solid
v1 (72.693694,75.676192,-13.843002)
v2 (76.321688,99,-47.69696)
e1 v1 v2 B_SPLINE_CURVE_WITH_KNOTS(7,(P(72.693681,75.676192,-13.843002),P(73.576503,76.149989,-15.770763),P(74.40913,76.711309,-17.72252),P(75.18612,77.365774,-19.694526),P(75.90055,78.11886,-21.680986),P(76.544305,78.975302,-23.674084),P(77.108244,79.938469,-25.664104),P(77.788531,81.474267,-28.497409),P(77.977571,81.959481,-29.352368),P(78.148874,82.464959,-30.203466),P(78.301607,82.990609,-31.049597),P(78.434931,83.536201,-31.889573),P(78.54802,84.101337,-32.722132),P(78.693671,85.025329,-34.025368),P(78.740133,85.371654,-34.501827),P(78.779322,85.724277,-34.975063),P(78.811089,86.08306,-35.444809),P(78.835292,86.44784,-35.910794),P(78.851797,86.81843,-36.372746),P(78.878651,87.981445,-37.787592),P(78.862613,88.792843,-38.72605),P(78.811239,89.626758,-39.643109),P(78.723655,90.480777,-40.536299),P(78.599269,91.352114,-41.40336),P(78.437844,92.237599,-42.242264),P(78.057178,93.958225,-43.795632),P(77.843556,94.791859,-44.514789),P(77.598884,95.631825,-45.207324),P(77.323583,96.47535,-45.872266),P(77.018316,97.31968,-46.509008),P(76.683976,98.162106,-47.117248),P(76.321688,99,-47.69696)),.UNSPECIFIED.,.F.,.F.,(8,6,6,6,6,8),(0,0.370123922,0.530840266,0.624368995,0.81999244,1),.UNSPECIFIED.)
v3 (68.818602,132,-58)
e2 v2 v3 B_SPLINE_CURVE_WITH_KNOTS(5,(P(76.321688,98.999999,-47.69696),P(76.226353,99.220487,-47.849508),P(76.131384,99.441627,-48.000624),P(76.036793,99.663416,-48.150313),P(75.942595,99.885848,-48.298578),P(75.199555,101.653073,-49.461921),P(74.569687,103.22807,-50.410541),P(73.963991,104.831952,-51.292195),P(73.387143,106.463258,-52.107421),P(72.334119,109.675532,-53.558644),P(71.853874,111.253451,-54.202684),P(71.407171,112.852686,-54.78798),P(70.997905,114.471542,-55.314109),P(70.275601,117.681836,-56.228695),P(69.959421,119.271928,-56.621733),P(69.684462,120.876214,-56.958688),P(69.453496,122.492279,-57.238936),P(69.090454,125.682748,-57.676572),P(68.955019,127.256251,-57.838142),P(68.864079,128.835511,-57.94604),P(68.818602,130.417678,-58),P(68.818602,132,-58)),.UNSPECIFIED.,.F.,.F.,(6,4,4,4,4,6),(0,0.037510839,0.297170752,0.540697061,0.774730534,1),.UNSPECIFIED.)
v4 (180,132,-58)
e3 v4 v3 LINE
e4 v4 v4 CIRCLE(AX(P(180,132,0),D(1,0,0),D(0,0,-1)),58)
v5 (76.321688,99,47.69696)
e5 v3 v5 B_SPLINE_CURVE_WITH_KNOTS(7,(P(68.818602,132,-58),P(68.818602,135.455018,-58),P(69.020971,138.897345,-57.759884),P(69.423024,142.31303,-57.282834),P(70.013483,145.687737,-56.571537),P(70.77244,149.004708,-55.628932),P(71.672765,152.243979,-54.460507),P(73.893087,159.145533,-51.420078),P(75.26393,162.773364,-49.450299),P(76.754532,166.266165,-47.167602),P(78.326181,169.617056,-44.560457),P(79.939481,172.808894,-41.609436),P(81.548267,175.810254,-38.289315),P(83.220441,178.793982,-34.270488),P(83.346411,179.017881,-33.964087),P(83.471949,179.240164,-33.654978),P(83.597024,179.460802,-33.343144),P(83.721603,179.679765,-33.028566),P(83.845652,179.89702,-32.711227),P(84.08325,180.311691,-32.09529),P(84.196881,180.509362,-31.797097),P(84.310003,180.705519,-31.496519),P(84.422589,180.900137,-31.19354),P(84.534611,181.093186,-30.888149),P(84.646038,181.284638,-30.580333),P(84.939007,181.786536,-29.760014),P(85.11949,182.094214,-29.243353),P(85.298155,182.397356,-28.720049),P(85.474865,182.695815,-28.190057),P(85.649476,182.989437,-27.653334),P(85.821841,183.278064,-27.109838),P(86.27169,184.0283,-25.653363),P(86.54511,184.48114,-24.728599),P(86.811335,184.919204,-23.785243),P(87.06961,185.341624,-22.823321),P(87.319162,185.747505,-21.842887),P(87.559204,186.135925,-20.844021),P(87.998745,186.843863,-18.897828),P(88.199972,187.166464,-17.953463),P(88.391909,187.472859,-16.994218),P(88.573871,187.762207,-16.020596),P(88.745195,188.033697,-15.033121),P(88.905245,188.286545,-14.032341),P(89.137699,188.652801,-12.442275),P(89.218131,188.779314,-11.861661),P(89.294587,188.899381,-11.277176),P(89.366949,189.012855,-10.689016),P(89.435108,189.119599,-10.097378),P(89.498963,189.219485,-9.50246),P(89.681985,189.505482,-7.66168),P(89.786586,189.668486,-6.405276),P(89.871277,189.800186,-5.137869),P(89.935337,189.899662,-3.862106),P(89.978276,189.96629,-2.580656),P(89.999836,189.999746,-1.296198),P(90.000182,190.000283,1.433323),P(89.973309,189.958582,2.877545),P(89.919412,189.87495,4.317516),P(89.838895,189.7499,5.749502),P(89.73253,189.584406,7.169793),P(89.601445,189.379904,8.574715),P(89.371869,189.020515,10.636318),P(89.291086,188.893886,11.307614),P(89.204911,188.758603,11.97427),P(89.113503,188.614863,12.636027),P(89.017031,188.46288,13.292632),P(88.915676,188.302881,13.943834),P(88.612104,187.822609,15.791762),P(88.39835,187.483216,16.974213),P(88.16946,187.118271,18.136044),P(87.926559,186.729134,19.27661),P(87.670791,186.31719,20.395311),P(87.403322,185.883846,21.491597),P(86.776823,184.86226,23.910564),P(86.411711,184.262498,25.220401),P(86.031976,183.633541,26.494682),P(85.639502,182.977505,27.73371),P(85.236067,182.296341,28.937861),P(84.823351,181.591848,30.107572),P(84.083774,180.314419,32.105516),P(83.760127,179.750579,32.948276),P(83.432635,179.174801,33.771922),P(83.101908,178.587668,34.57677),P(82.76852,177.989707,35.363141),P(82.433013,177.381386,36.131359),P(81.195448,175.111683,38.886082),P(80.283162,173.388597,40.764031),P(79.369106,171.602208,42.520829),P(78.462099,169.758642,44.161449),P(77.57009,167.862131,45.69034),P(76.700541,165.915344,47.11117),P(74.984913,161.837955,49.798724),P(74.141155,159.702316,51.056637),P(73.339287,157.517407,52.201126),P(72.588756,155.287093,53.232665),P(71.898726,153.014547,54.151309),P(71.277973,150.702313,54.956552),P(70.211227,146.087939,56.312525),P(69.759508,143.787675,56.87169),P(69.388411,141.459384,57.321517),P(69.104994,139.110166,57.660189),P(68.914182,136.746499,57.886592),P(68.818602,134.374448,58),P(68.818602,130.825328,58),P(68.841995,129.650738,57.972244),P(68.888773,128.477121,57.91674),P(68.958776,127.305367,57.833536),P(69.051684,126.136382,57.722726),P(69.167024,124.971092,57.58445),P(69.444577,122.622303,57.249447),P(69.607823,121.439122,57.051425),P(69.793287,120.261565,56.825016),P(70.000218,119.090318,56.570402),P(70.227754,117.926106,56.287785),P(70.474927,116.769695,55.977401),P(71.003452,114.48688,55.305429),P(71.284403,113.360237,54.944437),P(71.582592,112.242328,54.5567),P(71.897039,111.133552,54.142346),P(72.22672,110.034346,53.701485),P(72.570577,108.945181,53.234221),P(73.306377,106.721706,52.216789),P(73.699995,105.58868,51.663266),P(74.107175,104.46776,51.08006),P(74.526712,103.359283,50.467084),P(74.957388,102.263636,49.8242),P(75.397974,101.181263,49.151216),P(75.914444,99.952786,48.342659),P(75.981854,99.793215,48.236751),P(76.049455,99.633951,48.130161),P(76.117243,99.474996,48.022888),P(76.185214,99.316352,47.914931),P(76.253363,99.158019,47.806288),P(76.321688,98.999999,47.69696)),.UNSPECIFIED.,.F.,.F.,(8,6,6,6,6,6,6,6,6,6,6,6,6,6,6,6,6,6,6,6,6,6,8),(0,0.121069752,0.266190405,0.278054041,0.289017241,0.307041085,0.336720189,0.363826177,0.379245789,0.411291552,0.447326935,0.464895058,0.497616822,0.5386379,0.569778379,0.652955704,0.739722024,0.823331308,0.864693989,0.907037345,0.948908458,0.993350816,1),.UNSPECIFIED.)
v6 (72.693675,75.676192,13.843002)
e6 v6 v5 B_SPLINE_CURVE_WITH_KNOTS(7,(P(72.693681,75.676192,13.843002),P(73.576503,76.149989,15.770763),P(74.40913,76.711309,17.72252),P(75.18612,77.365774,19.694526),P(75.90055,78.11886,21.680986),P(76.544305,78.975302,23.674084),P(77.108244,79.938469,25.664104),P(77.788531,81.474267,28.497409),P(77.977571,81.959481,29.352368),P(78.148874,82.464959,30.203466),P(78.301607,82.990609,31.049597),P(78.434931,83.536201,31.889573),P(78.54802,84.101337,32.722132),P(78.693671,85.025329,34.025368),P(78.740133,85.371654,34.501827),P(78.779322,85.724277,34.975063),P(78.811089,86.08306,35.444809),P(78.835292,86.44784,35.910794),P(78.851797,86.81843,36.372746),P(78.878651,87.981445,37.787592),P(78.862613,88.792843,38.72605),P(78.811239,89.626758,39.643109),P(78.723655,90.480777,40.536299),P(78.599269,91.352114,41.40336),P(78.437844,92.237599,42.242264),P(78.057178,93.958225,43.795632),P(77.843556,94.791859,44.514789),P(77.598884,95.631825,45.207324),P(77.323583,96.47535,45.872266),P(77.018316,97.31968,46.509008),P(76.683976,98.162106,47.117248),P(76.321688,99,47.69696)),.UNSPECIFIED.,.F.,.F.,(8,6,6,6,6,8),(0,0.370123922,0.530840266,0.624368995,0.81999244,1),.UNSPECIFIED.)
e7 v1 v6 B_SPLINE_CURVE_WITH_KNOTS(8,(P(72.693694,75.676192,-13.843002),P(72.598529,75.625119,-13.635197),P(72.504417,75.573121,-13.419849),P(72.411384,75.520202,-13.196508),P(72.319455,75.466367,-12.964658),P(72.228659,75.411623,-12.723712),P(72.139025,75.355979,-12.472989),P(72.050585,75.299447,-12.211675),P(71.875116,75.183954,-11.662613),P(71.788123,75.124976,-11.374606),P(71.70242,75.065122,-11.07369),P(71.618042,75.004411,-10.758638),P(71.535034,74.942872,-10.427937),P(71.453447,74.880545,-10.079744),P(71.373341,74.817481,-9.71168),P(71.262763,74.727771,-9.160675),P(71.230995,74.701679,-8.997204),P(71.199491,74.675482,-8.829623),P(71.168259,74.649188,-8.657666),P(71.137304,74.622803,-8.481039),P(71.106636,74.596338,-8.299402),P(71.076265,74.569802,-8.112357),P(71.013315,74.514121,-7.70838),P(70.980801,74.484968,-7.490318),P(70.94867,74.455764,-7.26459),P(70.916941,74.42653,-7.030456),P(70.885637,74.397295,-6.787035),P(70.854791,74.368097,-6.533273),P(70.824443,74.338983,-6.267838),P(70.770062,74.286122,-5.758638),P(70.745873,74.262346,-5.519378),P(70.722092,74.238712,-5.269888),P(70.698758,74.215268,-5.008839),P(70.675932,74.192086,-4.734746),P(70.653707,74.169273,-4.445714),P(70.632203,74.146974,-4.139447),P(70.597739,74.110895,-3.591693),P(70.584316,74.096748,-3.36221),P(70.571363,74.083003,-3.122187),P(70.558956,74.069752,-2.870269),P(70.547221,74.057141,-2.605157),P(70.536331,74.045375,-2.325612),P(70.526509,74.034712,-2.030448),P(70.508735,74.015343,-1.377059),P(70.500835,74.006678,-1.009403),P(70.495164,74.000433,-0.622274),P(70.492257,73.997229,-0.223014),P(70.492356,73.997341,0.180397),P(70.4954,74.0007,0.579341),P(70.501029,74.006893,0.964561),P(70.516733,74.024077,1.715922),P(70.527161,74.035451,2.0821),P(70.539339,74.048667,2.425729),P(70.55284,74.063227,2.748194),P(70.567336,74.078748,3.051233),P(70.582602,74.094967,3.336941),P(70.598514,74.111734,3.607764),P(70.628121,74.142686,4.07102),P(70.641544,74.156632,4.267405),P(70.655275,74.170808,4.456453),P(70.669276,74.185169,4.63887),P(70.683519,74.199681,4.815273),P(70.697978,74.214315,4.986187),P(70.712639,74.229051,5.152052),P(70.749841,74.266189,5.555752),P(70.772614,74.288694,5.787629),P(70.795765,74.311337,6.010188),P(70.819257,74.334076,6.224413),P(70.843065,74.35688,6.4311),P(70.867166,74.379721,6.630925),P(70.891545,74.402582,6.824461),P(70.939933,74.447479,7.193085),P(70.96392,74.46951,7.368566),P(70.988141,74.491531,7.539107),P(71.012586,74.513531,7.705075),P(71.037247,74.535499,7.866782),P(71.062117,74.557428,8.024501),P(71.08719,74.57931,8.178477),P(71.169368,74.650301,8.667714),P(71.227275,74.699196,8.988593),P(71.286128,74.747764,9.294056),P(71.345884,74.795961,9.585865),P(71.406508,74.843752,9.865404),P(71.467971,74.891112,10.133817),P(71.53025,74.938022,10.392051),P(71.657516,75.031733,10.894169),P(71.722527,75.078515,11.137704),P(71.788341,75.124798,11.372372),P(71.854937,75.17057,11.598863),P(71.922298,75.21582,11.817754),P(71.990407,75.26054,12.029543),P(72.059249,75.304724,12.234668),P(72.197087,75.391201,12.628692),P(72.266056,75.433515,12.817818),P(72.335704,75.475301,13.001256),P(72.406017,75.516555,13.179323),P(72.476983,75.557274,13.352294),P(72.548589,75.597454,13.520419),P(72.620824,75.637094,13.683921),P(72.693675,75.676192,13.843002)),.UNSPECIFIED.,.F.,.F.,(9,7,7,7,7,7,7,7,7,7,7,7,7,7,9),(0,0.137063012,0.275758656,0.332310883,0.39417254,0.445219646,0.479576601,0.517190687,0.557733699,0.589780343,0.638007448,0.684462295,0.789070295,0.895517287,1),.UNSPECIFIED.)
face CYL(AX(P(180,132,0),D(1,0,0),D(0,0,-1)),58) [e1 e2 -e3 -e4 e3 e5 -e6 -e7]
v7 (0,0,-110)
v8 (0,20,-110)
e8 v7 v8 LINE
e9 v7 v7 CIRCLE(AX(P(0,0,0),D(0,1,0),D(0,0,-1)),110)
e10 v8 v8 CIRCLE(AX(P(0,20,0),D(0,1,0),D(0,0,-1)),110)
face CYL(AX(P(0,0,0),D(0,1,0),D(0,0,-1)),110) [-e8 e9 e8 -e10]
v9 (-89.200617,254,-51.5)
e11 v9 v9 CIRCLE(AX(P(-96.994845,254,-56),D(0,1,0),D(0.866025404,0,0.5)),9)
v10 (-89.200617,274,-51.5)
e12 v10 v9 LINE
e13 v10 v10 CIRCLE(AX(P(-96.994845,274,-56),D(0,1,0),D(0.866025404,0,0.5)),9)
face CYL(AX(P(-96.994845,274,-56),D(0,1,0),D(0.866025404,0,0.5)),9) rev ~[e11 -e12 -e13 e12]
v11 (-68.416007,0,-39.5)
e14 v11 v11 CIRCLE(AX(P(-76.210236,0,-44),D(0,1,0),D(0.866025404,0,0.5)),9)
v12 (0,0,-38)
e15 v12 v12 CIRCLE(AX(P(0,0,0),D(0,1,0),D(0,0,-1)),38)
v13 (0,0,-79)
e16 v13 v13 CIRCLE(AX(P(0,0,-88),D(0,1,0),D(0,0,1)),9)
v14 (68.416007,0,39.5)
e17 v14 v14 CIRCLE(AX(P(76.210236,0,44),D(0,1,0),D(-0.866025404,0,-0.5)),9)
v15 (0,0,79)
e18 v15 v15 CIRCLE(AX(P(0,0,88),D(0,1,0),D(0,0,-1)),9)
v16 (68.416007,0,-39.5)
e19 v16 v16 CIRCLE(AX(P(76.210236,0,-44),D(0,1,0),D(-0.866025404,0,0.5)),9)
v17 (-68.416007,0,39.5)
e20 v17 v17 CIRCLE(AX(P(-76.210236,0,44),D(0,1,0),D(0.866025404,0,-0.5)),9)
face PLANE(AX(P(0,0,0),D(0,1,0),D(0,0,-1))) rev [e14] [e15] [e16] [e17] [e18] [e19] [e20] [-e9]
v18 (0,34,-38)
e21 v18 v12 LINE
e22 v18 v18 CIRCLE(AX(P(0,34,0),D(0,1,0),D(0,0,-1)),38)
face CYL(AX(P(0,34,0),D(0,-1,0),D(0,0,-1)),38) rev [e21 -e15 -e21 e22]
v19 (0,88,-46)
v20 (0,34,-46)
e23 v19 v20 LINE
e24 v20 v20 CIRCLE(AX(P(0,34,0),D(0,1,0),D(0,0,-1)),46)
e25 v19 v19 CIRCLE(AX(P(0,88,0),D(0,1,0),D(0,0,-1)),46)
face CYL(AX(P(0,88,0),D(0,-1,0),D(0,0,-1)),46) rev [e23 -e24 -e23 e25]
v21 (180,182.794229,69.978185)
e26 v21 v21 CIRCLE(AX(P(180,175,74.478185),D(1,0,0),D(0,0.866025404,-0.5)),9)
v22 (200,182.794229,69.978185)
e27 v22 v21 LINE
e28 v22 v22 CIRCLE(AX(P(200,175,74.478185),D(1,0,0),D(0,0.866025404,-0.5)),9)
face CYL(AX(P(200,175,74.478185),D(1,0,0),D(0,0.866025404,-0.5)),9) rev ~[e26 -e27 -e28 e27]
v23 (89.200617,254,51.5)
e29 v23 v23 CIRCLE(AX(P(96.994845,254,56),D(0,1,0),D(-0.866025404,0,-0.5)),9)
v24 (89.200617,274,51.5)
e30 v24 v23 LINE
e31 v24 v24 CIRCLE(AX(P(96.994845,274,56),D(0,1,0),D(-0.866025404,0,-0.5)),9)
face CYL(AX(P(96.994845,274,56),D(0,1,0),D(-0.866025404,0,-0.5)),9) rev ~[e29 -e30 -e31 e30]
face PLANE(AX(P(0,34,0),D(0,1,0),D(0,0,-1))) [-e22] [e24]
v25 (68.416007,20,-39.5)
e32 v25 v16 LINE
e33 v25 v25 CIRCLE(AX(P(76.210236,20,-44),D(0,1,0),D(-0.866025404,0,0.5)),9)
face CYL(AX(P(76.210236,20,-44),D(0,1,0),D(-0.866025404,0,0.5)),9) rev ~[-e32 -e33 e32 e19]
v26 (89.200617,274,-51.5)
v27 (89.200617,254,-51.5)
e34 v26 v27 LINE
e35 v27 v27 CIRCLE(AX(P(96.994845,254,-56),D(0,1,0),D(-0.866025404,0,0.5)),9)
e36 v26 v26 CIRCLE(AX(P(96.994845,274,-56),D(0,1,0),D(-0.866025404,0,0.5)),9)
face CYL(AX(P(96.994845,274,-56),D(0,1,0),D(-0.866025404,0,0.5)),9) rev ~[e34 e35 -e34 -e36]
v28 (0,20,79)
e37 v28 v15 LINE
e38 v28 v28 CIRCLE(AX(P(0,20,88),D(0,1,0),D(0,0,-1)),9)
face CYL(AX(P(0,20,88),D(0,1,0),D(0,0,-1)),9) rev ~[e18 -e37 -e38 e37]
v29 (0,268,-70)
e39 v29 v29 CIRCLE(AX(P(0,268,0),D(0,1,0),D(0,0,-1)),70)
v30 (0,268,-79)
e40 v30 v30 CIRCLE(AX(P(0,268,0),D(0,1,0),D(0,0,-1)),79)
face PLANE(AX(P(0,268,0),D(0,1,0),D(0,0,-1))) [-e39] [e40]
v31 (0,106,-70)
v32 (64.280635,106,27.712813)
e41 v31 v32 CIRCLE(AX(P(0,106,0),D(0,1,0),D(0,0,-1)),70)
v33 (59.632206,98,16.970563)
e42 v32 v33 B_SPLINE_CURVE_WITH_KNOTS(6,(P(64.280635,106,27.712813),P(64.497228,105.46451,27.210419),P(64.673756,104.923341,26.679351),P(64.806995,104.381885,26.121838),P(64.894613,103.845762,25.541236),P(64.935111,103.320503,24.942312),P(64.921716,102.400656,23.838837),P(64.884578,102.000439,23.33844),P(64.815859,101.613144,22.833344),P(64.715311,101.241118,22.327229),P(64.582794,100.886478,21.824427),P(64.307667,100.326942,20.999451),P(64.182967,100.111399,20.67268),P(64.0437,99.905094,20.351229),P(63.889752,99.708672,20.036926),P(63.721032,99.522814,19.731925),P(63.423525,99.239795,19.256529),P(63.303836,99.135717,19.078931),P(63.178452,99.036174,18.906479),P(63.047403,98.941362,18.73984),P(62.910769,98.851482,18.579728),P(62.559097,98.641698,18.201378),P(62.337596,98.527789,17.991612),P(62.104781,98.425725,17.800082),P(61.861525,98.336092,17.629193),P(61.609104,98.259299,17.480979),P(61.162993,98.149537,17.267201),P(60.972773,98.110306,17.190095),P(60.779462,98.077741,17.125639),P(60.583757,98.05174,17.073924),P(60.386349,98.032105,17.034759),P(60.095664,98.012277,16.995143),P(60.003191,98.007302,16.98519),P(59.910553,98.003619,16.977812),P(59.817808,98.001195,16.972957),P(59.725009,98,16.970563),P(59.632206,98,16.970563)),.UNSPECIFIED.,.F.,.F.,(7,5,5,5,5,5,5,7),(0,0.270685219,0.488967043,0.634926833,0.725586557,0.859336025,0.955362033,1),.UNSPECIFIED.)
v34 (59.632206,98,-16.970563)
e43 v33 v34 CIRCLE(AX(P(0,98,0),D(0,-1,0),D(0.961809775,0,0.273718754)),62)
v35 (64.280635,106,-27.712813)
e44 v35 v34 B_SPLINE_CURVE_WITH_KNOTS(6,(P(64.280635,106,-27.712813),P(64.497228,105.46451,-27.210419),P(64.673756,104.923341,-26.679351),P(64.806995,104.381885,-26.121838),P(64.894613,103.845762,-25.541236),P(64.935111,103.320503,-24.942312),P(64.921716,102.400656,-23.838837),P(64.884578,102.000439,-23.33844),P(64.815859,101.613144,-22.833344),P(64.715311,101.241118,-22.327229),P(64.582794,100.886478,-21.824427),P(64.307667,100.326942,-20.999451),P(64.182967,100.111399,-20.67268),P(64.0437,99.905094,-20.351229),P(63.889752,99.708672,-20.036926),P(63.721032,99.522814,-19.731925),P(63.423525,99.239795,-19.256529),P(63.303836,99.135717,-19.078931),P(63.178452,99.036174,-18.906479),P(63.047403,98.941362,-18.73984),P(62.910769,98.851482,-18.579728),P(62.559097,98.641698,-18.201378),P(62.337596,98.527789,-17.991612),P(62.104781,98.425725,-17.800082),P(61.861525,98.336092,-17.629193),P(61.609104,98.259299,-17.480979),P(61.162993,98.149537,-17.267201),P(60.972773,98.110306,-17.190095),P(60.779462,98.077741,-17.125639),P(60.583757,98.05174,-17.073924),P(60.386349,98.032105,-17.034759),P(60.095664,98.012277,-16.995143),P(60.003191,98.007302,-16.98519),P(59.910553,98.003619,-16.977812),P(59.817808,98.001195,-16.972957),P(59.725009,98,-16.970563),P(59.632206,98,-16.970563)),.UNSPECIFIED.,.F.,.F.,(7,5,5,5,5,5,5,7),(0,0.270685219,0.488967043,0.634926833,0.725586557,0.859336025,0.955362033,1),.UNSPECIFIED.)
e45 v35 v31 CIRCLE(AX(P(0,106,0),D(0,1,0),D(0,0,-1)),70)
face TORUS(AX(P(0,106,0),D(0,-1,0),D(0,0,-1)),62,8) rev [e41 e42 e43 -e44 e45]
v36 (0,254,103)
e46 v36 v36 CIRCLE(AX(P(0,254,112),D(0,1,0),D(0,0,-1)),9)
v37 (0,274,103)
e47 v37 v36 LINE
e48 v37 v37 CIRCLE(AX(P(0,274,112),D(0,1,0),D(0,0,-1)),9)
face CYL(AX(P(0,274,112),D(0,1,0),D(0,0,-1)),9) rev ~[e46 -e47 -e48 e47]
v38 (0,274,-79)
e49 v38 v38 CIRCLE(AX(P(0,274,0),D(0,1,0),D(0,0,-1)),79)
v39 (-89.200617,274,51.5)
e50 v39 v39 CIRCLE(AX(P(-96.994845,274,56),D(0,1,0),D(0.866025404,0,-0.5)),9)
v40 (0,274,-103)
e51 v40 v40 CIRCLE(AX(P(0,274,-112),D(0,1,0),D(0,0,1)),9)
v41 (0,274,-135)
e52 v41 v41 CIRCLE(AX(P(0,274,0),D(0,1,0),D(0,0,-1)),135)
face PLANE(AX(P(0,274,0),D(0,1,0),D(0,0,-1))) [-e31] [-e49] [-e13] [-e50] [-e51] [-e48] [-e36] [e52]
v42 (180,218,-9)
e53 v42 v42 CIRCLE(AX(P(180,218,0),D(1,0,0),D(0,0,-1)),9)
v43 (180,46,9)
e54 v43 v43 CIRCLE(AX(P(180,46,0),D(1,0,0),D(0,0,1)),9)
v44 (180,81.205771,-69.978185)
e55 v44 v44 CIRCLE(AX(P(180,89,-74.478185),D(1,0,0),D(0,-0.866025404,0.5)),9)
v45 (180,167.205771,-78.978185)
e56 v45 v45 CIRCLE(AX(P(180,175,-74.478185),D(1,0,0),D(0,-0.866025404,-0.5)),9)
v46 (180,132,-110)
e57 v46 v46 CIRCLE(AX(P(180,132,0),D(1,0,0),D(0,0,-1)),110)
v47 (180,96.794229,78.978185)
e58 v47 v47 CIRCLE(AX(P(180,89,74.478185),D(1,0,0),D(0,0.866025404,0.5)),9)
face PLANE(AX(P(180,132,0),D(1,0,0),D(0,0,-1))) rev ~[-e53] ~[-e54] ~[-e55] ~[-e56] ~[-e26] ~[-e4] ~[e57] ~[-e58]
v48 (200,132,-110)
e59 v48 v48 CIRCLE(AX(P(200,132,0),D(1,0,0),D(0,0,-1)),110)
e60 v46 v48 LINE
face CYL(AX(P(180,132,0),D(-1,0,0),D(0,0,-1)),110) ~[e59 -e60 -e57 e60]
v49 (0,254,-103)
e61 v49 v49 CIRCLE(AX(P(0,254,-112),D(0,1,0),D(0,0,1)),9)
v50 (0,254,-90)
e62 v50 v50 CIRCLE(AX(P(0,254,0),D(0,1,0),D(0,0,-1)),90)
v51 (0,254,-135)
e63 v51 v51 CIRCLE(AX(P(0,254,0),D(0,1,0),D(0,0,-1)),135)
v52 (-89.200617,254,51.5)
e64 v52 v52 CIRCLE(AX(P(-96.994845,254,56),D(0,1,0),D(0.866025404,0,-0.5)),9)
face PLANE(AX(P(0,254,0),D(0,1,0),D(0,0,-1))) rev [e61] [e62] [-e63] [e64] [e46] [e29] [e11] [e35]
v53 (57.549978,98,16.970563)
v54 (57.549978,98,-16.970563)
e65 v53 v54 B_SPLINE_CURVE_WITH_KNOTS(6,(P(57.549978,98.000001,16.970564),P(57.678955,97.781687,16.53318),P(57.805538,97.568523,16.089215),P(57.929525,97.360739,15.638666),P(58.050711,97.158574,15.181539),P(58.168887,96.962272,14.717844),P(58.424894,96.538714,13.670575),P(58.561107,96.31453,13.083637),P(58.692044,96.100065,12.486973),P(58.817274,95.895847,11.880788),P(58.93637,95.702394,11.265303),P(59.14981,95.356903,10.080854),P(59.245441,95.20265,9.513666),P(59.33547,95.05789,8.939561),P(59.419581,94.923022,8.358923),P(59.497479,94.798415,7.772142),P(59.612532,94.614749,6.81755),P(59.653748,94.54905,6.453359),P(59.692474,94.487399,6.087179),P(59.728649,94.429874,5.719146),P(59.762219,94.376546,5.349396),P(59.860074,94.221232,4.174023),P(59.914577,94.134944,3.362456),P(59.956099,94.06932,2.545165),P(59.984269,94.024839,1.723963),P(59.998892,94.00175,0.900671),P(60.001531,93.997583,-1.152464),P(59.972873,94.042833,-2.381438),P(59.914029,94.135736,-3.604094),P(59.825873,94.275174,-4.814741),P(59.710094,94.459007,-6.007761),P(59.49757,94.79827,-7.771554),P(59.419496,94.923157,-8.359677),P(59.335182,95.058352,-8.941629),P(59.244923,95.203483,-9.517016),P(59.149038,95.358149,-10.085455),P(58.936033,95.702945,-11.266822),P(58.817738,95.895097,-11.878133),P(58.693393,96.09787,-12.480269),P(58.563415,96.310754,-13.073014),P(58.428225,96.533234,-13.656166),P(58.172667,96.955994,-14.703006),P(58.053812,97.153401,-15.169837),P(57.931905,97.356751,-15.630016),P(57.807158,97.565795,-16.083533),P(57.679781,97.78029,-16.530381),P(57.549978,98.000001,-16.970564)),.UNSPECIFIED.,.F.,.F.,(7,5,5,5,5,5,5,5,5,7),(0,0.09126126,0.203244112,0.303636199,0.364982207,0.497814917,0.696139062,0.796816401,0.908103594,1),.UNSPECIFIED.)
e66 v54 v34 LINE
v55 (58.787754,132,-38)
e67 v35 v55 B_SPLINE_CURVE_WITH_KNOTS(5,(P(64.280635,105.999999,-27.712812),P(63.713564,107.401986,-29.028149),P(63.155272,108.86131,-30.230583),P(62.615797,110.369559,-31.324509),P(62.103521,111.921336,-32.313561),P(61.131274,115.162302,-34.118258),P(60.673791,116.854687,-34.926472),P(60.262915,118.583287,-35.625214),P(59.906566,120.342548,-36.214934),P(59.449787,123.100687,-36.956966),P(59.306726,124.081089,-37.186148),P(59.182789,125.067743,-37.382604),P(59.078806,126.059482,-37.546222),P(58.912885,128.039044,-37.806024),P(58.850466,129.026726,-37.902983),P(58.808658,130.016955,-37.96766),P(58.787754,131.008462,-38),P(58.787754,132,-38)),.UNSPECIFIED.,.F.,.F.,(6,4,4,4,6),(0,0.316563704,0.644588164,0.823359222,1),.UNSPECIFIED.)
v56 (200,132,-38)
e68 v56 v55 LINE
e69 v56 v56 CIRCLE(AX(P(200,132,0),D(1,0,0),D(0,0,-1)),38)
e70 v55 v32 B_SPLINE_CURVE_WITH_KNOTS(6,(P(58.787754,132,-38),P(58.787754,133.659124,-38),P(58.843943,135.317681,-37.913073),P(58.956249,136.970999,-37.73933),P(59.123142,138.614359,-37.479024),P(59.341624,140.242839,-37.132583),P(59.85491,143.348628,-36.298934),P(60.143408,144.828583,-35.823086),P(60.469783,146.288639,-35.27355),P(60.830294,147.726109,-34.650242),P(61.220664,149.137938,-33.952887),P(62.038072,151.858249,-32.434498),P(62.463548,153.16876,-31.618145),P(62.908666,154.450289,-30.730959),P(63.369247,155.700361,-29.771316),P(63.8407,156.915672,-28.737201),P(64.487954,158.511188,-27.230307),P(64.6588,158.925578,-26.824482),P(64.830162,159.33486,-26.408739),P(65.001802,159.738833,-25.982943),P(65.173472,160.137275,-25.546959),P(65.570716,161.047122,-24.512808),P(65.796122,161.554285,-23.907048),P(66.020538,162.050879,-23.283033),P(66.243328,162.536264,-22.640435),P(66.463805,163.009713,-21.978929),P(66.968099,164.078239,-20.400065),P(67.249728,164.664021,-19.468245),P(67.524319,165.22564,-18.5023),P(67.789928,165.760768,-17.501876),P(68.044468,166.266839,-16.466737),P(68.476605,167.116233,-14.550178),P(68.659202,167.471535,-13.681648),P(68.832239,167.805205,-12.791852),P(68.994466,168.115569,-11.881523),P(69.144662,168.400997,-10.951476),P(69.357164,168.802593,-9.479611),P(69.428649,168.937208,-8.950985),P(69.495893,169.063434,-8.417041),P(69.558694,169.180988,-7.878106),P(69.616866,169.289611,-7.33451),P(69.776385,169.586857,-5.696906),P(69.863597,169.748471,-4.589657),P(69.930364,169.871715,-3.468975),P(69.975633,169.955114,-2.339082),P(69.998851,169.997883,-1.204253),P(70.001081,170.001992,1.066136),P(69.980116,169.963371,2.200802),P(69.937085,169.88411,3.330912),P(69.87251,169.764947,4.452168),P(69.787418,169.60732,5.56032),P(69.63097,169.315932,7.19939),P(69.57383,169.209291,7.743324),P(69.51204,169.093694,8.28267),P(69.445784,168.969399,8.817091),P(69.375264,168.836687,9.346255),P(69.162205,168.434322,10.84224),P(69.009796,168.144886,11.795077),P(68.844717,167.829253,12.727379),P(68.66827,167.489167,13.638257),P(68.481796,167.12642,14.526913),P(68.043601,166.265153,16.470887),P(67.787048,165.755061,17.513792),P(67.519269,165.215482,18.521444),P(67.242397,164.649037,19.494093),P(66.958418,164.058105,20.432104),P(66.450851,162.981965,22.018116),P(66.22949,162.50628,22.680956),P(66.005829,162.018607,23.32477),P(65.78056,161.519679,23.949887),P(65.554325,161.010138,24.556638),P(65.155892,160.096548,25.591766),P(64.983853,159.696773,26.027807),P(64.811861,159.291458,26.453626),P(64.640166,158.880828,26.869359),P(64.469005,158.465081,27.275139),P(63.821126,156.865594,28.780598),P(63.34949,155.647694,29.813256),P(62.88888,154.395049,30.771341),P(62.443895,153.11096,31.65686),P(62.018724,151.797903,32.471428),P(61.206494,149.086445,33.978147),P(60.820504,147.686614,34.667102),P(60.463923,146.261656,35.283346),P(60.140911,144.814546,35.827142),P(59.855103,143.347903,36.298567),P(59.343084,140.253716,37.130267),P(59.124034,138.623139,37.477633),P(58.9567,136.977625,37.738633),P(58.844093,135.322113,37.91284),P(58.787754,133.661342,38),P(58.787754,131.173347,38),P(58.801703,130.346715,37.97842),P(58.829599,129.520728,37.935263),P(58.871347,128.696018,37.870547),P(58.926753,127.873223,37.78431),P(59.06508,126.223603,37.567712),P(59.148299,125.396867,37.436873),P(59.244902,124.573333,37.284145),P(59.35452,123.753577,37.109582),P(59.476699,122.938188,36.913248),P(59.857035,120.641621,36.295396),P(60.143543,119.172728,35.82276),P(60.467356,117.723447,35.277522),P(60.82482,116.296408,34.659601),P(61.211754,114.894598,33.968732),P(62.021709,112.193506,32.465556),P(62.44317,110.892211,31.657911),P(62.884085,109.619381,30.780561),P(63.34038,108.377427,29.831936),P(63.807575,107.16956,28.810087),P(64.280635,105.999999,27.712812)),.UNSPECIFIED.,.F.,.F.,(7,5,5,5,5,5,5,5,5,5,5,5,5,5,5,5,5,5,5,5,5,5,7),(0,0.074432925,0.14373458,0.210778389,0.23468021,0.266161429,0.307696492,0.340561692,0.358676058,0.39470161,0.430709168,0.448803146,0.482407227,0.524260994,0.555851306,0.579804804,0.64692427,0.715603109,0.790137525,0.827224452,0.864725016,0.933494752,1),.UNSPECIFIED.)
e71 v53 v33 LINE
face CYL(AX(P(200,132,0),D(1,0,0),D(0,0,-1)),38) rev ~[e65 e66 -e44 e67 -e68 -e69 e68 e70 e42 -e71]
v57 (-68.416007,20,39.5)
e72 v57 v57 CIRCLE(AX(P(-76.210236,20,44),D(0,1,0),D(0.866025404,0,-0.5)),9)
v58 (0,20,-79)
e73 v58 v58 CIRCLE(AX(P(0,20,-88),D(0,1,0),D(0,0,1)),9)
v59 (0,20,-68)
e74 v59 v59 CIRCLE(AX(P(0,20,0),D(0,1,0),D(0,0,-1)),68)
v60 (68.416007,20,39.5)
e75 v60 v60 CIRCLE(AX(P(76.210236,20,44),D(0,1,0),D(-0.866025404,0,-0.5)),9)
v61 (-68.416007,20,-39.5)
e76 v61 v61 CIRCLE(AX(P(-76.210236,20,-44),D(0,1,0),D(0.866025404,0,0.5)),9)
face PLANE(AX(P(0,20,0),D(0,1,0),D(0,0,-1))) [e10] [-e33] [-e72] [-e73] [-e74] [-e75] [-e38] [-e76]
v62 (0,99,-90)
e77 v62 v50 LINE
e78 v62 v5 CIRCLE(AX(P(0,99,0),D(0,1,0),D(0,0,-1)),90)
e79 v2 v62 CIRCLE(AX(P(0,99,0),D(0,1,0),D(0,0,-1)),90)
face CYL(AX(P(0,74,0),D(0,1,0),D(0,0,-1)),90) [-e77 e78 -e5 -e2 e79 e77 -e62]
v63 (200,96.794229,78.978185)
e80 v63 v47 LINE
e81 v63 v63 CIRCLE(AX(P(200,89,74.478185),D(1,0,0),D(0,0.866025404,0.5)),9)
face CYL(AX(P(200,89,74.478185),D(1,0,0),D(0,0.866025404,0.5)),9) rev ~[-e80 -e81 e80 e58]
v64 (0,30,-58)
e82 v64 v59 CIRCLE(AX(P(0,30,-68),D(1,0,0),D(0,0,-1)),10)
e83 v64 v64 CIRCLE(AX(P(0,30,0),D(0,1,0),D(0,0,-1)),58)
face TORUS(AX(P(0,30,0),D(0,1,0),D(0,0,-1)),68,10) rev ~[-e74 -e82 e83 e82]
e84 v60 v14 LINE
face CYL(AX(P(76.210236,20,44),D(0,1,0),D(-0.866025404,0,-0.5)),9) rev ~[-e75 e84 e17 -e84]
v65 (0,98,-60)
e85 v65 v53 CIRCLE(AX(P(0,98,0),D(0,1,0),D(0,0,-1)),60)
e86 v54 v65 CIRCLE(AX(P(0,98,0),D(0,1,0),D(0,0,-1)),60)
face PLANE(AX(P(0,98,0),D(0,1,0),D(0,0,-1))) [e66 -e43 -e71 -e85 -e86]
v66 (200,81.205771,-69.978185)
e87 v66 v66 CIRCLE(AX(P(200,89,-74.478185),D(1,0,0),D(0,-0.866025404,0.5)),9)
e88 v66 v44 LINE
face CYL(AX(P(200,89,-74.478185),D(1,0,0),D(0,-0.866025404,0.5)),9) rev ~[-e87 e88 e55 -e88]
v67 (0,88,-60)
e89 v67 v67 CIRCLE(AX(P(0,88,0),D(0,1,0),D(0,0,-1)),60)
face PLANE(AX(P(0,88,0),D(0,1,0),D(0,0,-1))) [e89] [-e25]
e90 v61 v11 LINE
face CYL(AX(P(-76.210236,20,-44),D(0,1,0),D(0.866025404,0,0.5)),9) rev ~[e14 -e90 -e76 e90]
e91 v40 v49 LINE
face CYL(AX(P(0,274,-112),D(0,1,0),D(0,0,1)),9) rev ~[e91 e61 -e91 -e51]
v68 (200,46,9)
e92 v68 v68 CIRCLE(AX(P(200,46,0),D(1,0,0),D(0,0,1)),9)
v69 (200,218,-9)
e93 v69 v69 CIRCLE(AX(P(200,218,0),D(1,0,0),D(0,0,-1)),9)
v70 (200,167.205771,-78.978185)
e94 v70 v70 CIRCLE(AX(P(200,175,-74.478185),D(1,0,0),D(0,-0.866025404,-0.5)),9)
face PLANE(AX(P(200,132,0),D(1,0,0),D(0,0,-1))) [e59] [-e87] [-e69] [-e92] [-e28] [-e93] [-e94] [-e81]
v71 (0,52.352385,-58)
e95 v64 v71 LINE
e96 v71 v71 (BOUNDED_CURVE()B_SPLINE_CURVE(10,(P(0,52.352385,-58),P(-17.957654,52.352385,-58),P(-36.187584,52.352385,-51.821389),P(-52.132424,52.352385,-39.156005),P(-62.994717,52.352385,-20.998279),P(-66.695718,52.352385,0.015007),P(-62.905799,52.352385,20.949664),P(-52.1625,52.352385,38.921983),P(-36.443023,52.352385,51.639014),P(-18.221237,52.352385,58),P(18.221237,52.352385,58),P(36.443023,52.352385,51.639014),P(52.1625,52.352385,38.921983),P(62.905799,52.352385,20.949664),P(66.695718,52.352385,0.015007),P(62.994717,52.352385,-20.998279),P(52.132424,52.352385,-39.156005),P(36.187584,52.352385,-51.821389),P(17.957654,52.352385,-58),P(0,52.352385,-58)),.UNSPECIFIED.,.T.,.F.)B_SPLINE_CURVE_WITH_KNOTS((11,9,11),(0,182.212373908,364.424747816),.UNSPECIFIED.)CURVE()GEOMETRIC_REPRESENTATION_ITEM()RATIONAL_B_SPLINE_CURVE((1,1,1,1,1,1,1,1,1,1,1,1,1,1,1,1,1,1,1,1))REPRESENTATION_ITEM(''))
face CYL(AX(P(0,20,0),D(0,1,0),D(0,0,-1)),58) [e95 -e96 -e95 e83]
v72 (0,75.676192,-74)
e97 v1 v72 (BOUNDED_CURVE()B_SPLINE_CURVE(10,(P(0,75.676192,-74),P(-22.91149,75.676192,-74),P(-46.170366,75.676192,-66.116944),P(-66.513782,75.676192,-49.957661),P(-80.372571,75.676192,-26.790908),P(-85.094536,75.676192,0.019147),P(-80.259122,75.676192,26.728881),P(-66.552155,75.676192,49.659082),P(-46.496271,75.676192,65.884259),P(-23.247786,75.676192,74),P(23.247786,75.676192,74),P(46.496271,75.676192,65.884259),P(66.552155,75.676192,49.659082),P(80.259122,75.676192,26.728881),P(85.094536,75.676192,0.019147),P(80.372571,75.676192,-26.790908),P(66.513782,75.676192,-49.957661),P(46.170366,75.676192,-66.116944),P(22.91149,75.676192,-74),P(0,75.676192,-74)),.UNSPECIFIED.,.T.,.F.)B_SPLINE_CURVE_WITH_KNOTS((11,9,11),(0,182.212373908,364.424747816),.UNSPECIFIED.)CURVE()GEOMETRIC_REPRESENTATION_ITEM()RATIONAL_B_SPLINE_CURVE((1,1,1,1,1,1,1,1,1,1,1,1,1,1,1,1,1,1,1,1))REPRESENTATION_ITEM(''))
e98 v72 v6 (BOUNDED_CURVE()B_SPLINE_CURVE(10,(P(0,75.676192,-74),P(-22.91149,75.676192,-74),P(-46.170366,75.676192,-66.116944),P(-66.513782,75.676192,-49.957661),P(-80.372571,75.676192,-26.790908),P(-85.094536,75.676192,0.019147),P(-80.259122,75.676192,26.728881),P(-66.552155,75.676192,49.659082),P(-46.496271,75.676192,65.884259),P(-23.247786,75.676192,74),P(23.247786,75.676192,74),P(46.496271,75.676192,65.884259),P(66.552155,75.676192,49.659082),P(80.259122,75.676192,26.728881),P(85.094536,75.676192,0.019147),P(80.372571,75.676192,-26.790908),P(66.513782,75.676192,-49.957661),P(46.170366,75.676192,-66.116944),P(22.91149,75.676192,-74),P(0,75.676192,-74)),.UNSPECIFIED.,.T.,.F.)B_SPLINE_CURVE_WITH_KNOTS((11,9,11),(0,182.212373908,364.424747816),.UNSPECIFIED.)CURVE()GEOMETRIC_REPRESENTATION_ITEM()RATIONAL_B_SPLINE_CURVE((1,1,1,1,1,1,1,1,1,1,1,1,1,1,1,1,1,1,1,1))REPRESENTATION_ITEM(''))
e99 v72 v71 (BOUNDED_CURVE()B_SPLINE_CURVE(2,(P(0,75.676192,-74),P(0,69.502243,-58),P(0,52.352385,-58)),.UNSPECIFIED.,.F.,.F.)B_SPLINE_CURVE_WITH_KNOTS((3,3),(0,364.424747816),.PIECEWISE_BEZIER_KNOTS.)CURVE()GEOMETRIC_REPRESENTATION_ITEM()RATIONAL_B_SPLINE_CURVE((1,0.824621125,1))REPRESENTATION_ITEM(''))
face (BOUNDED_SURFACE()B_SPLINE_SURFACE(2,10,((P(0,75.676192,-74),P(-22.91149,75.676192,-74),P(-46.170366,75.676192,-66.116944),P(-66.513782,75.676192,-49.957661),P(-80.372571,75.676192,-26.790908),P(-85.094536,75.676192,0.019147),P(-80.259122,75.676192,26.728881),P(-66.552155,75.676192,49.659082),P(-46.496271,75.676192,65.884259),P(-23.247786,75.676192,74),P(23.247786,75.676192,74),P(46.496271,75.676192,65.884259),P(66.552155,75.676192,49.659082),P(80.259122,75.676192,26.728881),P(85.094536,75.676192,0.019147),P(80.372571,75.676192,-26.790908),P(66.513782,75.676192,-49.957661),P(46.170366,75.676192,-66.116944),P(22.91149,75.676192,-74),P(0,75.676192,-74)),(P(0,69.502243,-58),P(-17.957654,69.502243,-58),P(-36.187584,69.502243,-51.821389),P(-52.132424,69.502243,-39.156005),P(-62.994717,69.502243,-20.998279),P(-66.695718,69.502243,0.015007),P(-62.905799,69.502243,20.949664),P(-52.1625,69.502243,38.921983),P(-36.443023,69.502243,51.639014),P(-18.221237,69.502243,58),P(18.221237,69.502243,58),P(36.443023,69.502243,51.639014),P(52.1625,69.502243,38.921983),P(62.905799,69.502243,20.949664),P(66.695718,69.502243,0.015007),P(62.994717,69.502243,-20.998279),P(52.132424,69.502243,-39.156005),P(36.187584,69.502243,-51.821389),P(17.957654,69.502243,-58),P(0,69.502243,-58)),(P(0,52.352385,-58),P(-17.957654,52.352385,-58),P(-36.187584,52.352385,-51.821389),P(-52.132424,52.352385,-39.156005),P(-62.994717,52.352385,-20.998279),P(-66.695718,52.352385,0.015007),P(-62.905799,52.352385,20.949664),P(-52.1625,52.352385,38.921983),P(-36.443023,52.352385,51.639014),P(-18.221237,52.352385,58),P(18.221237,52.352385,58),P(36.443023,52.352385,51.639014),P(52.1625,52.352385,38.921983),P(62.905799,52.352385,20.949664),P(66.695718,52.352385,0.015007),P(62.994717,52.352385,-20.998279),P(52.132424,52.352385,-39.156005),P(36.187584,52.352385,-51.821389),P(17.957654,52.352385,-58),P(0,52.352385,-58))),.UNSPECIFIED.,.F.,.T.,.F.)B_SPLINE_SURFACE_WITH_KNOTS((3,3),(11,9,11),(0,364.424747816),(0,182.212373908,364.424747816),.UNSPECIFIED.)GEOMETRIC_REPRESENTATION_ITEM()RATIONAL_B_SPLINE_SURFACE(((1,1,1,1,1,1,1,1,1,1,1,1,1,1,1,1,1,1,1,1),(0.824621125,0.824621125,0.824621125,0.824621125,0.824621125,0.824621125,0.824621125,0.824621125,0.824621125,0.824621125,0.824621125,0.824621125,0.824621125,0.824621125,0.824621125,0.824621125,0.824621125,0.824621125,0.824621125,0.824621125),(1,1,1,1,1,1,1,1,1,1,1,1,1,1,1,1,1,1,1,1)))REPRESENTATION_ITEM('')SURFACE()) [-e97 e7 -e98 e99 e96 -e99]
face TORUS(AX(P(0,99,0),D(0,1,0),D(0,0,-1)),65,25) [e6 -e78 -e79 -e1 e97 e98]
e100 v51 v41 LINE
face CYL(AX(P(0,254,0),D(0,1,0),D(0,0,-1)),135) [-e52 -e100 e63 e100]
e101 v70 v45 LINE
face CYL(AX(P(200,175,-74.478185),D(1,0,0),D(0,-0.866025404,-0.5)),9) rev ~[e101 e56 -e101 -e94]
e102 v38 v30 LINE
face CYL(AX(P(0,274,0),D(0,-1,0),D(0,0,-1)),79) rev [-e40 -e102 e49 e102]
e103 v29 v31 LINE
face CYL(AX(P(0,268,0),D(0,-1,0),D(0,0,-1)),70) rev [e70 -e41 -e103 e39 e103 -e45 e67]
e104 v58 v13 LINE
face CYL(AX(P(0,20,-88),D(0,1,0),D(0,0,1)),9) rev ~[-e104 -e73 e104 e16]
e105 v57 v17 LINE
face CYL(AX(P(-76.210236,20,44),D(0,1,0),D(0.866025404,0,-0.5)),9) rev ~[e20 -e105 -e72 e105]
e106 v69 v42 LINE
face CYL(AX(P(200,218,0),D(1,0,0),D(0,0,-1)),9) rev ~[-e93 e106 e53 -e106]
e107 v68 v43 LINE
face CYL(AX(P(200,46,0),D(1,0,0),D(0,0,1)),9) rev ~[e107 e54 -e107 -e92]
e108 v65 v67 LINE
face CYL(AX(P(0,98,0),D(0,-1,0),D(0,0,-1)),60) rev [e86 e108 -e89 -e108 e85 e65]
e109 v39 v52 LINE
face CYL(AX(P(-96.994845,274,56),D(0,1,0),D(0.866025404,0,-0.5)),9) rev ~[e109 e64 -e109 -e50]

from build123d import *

# Parameters (mm, degrees)
FILLET3_R           = 25
FILLET4_R           = 25
BOSS_EXTRUDE1_REACH = 317
SKETCH2_R           = 58
SKETCH3_R           = 110
BOSS_EXTRUDE2_DEPTH = 20
CUT_EXTRUDE1_REACH  = 337
SKETCH4_R           = 38
SKETCH5_R           = 9
CUT_EXTRUDE2_DEPTH  = 20
CIRPATTERN1_COUNT   = 6
SKETCH6_R           = 9
CUT_EXTRUDE3_DEPTH  = 20
CIRPATTERN2_COUNT   = 6
SKETCH7_R           = 9
CUT_EXTRUDE4_DEPTH  = 20
CIRPATTERN3_COUNT   = 6
FILLET6_R           = 10


with BuildPart() as part:
    # Sketch1 → Revolve1 (revolve)
    with BuildSketch(Plane.XY, mode=Mode.PRIVATE) as revolve1_sk:
        with BuildLine():
            Line((38, 0), (110, 0))
            Line((110, 0), (110, 20))
            Line((110, 20), (58, 20))
            Line((58, 20), (58, 74))
            Line((58, 74), (90, 74))
            Line((90, 74), (90, 254))
            Line((90, 254), (135, 254))
            Line((135, 254), (135, 274))
            Line((135, 274), (79, 274))
            Line((79, 274), (79, 268))
            Line((79, 268), (70, 268))
            Line((70, 268), (70, 106))
            ThreePointArc((70, 106), (67.656854249, 100.343145751), (62, 98))
            Line((62, 98), (60, 98))
            Line((60, 98), (60, 88))
            Line((60, 88), (46, 88))
            Line((46, 88), (46, 34))
            Line((46, 34), (38, 34))
            Line((38, 34), (38, 0))
        make_face()
    revolve(revolve1_sk.sketch.rotate(Axis((0, 0, 0), (0, 1, 0)), 90), axis=Axis((0, 0, 0), (0, 1, 0)))  # turned: the seam where the file's is

    # Fillet3
    fillet3_edges = [part.edges().sort_by_distance(p)[0] for p in [
        (0, 74, 90),
    ]]
    fillet(fillet3_edges, radius=FILLET3_R)

    # Fillet4
    fillet4_edges = [part.edges().sort_by_distance(p)[0] for p in [
        (0, 74, 58),
    ]]
    fillet(fillet4_edges, radius=FILLET4_R)

    # Sketch2 → Boss-Extrude1 (add, up to next)
    with BuildSketch(Plane(origin=(180, 0, 0), x_dir=(0, 0, -1), z_dir=(1, 0, 0)), mode=Mode.PRIVATE) as boss_extrude1_sk1:
        with Locations((0, 132)):
            Circle(SKETCH2_R)
    boss_extrude1_tool1 = extrude(boss_extrude1_sk1.sketch, amount=-BOSS_EXTRUDE1_REACH, mode=Mode.PRIVATE) - part.part
    add(boss_extrude1_tool1.solids().sort_by_distance((180, 132, 0))[0])

    # Sketch3 → Boss-Extrude2 (add)
    with BuildSketch(Plane(origin=(180, 0, 0), x_dir=(0, 0, -1), z_dir=(1, 0, 0))):
        with Locations((0, 132)):
            Circle(SKETCH3_R)
    extrude(amount=BOSS_EXTRUDE2_DEPTH)

    # Sketch4 → Cut-Extrude1 (cut, up to next)
    with BuildSketch(Plane(origin=(200, 0, 0), x_dir=(0, 0, -1), z_dir=(1, 0, 0)), mode=Mode.PRIVATE) as cut_extrude1_sk1:
        with Locations((0, 132)):
            Circle(SKETCH4_R)
    cut_extrude1_tool1 = extrude(cut_extrude1_sk1.sketch, amount=-CUT_EXTRUDE1_REACH, mode=Mode.PRIVATE) & part.part
    add(cut_extrude1_tool1.solids().sort_by_distance((200, 132, 0))[0], mode=Mode.SUBTRACT)

    # Sketch5 → Cut-Extrude2 (cut)
    with BuildSketch(Plane(origin=(0, 274, 0), x_dir=(1, 0, 0), z_dir=(0, 1, 0))):
        with Locations(Location((0, 112, 0), (0, 0, 270))):  # turned: the seam where the file's is
            Circle(SKETCH5_R)
    cut_extrude2 = extrude(amount=-CUT_EXTRUDE2_DEPTH, mode=Mode.SUBTRACT)

    # CirPattern1: Cut-Extrude2 ×6 about axis
    cirpattern1_axis = Axis((0, 0, 0), (0, 1, 0))
    for i in range(1, CIRPATTERN1_COUNT):
        add(cut_extrude2.rotate(cirpattern1_axis, i * 360 / CIRPATTERN1_COUNT), mode=Mode.SUBTRACT)

    # Sketch6 → Cut-Extrude3 (cut)
    with BuildSketch(Plane(origin=(200, 0, 0), x_dir=(0, 0, -1), z_dir=(1, 0, 0))):
        with Locations((0, 218)):
            Circle(SKETCH6_R)
    cut_extrude3 = extrude(amount=-CUT_EXTRUDE3_DEPTH, mode=Mode.SUBTRACT)

    # CirPattern2: Cut-Extrude3 ×6 about axis
    cirpattern2_axis = Axis((0, 132, 0), (1, 0, 0))
    for i in range(1, CIRPATTERN2_COUNT):
        add(cut_extrude3.rotate(cirpattern2_axis, i * 360 / CIRPATTERN2_COUNT), mode=Mode.SUBTRACT)

    # Sketch7 → Cut-Extrude4 (cut)
    with BuildSketch(Plane(origin=(0, 20, 0), x_dir=(1, 0, 0), z_dir=(0, 1, 0))):
        with Locations(Location((0, 88, 0), (0, 0, 270))):  # turned: the seam where the file's is
            Circle(SKETCH7_R)
    cut_extrude4 = extrude(amount=-CUT_EXTRUDE4_DEPTH, mode=Mode.SUBTRACT)

    # CirPattern3: Cut-Extrude4 ×6 about axis
    cirpattern3_axis = Axis((0, 0, 0), (0, 1, 0))
    for i in range(1, CIRPATTERN3_COUNT):
        add(cut_extrude4.rotate(cirpattern3_axis, i * 360 / CIRPATTERN3_COUNT), mode=Mode.SUBTRACT)

    # Fillet6
    fillet6_edges = [part.edges().sort_by_distance(p)[0] for p in [
        (0, 20, 58),
    ]]
    fillet(fillet6_edges, radius=FILLET6_R)


solid = part.part
